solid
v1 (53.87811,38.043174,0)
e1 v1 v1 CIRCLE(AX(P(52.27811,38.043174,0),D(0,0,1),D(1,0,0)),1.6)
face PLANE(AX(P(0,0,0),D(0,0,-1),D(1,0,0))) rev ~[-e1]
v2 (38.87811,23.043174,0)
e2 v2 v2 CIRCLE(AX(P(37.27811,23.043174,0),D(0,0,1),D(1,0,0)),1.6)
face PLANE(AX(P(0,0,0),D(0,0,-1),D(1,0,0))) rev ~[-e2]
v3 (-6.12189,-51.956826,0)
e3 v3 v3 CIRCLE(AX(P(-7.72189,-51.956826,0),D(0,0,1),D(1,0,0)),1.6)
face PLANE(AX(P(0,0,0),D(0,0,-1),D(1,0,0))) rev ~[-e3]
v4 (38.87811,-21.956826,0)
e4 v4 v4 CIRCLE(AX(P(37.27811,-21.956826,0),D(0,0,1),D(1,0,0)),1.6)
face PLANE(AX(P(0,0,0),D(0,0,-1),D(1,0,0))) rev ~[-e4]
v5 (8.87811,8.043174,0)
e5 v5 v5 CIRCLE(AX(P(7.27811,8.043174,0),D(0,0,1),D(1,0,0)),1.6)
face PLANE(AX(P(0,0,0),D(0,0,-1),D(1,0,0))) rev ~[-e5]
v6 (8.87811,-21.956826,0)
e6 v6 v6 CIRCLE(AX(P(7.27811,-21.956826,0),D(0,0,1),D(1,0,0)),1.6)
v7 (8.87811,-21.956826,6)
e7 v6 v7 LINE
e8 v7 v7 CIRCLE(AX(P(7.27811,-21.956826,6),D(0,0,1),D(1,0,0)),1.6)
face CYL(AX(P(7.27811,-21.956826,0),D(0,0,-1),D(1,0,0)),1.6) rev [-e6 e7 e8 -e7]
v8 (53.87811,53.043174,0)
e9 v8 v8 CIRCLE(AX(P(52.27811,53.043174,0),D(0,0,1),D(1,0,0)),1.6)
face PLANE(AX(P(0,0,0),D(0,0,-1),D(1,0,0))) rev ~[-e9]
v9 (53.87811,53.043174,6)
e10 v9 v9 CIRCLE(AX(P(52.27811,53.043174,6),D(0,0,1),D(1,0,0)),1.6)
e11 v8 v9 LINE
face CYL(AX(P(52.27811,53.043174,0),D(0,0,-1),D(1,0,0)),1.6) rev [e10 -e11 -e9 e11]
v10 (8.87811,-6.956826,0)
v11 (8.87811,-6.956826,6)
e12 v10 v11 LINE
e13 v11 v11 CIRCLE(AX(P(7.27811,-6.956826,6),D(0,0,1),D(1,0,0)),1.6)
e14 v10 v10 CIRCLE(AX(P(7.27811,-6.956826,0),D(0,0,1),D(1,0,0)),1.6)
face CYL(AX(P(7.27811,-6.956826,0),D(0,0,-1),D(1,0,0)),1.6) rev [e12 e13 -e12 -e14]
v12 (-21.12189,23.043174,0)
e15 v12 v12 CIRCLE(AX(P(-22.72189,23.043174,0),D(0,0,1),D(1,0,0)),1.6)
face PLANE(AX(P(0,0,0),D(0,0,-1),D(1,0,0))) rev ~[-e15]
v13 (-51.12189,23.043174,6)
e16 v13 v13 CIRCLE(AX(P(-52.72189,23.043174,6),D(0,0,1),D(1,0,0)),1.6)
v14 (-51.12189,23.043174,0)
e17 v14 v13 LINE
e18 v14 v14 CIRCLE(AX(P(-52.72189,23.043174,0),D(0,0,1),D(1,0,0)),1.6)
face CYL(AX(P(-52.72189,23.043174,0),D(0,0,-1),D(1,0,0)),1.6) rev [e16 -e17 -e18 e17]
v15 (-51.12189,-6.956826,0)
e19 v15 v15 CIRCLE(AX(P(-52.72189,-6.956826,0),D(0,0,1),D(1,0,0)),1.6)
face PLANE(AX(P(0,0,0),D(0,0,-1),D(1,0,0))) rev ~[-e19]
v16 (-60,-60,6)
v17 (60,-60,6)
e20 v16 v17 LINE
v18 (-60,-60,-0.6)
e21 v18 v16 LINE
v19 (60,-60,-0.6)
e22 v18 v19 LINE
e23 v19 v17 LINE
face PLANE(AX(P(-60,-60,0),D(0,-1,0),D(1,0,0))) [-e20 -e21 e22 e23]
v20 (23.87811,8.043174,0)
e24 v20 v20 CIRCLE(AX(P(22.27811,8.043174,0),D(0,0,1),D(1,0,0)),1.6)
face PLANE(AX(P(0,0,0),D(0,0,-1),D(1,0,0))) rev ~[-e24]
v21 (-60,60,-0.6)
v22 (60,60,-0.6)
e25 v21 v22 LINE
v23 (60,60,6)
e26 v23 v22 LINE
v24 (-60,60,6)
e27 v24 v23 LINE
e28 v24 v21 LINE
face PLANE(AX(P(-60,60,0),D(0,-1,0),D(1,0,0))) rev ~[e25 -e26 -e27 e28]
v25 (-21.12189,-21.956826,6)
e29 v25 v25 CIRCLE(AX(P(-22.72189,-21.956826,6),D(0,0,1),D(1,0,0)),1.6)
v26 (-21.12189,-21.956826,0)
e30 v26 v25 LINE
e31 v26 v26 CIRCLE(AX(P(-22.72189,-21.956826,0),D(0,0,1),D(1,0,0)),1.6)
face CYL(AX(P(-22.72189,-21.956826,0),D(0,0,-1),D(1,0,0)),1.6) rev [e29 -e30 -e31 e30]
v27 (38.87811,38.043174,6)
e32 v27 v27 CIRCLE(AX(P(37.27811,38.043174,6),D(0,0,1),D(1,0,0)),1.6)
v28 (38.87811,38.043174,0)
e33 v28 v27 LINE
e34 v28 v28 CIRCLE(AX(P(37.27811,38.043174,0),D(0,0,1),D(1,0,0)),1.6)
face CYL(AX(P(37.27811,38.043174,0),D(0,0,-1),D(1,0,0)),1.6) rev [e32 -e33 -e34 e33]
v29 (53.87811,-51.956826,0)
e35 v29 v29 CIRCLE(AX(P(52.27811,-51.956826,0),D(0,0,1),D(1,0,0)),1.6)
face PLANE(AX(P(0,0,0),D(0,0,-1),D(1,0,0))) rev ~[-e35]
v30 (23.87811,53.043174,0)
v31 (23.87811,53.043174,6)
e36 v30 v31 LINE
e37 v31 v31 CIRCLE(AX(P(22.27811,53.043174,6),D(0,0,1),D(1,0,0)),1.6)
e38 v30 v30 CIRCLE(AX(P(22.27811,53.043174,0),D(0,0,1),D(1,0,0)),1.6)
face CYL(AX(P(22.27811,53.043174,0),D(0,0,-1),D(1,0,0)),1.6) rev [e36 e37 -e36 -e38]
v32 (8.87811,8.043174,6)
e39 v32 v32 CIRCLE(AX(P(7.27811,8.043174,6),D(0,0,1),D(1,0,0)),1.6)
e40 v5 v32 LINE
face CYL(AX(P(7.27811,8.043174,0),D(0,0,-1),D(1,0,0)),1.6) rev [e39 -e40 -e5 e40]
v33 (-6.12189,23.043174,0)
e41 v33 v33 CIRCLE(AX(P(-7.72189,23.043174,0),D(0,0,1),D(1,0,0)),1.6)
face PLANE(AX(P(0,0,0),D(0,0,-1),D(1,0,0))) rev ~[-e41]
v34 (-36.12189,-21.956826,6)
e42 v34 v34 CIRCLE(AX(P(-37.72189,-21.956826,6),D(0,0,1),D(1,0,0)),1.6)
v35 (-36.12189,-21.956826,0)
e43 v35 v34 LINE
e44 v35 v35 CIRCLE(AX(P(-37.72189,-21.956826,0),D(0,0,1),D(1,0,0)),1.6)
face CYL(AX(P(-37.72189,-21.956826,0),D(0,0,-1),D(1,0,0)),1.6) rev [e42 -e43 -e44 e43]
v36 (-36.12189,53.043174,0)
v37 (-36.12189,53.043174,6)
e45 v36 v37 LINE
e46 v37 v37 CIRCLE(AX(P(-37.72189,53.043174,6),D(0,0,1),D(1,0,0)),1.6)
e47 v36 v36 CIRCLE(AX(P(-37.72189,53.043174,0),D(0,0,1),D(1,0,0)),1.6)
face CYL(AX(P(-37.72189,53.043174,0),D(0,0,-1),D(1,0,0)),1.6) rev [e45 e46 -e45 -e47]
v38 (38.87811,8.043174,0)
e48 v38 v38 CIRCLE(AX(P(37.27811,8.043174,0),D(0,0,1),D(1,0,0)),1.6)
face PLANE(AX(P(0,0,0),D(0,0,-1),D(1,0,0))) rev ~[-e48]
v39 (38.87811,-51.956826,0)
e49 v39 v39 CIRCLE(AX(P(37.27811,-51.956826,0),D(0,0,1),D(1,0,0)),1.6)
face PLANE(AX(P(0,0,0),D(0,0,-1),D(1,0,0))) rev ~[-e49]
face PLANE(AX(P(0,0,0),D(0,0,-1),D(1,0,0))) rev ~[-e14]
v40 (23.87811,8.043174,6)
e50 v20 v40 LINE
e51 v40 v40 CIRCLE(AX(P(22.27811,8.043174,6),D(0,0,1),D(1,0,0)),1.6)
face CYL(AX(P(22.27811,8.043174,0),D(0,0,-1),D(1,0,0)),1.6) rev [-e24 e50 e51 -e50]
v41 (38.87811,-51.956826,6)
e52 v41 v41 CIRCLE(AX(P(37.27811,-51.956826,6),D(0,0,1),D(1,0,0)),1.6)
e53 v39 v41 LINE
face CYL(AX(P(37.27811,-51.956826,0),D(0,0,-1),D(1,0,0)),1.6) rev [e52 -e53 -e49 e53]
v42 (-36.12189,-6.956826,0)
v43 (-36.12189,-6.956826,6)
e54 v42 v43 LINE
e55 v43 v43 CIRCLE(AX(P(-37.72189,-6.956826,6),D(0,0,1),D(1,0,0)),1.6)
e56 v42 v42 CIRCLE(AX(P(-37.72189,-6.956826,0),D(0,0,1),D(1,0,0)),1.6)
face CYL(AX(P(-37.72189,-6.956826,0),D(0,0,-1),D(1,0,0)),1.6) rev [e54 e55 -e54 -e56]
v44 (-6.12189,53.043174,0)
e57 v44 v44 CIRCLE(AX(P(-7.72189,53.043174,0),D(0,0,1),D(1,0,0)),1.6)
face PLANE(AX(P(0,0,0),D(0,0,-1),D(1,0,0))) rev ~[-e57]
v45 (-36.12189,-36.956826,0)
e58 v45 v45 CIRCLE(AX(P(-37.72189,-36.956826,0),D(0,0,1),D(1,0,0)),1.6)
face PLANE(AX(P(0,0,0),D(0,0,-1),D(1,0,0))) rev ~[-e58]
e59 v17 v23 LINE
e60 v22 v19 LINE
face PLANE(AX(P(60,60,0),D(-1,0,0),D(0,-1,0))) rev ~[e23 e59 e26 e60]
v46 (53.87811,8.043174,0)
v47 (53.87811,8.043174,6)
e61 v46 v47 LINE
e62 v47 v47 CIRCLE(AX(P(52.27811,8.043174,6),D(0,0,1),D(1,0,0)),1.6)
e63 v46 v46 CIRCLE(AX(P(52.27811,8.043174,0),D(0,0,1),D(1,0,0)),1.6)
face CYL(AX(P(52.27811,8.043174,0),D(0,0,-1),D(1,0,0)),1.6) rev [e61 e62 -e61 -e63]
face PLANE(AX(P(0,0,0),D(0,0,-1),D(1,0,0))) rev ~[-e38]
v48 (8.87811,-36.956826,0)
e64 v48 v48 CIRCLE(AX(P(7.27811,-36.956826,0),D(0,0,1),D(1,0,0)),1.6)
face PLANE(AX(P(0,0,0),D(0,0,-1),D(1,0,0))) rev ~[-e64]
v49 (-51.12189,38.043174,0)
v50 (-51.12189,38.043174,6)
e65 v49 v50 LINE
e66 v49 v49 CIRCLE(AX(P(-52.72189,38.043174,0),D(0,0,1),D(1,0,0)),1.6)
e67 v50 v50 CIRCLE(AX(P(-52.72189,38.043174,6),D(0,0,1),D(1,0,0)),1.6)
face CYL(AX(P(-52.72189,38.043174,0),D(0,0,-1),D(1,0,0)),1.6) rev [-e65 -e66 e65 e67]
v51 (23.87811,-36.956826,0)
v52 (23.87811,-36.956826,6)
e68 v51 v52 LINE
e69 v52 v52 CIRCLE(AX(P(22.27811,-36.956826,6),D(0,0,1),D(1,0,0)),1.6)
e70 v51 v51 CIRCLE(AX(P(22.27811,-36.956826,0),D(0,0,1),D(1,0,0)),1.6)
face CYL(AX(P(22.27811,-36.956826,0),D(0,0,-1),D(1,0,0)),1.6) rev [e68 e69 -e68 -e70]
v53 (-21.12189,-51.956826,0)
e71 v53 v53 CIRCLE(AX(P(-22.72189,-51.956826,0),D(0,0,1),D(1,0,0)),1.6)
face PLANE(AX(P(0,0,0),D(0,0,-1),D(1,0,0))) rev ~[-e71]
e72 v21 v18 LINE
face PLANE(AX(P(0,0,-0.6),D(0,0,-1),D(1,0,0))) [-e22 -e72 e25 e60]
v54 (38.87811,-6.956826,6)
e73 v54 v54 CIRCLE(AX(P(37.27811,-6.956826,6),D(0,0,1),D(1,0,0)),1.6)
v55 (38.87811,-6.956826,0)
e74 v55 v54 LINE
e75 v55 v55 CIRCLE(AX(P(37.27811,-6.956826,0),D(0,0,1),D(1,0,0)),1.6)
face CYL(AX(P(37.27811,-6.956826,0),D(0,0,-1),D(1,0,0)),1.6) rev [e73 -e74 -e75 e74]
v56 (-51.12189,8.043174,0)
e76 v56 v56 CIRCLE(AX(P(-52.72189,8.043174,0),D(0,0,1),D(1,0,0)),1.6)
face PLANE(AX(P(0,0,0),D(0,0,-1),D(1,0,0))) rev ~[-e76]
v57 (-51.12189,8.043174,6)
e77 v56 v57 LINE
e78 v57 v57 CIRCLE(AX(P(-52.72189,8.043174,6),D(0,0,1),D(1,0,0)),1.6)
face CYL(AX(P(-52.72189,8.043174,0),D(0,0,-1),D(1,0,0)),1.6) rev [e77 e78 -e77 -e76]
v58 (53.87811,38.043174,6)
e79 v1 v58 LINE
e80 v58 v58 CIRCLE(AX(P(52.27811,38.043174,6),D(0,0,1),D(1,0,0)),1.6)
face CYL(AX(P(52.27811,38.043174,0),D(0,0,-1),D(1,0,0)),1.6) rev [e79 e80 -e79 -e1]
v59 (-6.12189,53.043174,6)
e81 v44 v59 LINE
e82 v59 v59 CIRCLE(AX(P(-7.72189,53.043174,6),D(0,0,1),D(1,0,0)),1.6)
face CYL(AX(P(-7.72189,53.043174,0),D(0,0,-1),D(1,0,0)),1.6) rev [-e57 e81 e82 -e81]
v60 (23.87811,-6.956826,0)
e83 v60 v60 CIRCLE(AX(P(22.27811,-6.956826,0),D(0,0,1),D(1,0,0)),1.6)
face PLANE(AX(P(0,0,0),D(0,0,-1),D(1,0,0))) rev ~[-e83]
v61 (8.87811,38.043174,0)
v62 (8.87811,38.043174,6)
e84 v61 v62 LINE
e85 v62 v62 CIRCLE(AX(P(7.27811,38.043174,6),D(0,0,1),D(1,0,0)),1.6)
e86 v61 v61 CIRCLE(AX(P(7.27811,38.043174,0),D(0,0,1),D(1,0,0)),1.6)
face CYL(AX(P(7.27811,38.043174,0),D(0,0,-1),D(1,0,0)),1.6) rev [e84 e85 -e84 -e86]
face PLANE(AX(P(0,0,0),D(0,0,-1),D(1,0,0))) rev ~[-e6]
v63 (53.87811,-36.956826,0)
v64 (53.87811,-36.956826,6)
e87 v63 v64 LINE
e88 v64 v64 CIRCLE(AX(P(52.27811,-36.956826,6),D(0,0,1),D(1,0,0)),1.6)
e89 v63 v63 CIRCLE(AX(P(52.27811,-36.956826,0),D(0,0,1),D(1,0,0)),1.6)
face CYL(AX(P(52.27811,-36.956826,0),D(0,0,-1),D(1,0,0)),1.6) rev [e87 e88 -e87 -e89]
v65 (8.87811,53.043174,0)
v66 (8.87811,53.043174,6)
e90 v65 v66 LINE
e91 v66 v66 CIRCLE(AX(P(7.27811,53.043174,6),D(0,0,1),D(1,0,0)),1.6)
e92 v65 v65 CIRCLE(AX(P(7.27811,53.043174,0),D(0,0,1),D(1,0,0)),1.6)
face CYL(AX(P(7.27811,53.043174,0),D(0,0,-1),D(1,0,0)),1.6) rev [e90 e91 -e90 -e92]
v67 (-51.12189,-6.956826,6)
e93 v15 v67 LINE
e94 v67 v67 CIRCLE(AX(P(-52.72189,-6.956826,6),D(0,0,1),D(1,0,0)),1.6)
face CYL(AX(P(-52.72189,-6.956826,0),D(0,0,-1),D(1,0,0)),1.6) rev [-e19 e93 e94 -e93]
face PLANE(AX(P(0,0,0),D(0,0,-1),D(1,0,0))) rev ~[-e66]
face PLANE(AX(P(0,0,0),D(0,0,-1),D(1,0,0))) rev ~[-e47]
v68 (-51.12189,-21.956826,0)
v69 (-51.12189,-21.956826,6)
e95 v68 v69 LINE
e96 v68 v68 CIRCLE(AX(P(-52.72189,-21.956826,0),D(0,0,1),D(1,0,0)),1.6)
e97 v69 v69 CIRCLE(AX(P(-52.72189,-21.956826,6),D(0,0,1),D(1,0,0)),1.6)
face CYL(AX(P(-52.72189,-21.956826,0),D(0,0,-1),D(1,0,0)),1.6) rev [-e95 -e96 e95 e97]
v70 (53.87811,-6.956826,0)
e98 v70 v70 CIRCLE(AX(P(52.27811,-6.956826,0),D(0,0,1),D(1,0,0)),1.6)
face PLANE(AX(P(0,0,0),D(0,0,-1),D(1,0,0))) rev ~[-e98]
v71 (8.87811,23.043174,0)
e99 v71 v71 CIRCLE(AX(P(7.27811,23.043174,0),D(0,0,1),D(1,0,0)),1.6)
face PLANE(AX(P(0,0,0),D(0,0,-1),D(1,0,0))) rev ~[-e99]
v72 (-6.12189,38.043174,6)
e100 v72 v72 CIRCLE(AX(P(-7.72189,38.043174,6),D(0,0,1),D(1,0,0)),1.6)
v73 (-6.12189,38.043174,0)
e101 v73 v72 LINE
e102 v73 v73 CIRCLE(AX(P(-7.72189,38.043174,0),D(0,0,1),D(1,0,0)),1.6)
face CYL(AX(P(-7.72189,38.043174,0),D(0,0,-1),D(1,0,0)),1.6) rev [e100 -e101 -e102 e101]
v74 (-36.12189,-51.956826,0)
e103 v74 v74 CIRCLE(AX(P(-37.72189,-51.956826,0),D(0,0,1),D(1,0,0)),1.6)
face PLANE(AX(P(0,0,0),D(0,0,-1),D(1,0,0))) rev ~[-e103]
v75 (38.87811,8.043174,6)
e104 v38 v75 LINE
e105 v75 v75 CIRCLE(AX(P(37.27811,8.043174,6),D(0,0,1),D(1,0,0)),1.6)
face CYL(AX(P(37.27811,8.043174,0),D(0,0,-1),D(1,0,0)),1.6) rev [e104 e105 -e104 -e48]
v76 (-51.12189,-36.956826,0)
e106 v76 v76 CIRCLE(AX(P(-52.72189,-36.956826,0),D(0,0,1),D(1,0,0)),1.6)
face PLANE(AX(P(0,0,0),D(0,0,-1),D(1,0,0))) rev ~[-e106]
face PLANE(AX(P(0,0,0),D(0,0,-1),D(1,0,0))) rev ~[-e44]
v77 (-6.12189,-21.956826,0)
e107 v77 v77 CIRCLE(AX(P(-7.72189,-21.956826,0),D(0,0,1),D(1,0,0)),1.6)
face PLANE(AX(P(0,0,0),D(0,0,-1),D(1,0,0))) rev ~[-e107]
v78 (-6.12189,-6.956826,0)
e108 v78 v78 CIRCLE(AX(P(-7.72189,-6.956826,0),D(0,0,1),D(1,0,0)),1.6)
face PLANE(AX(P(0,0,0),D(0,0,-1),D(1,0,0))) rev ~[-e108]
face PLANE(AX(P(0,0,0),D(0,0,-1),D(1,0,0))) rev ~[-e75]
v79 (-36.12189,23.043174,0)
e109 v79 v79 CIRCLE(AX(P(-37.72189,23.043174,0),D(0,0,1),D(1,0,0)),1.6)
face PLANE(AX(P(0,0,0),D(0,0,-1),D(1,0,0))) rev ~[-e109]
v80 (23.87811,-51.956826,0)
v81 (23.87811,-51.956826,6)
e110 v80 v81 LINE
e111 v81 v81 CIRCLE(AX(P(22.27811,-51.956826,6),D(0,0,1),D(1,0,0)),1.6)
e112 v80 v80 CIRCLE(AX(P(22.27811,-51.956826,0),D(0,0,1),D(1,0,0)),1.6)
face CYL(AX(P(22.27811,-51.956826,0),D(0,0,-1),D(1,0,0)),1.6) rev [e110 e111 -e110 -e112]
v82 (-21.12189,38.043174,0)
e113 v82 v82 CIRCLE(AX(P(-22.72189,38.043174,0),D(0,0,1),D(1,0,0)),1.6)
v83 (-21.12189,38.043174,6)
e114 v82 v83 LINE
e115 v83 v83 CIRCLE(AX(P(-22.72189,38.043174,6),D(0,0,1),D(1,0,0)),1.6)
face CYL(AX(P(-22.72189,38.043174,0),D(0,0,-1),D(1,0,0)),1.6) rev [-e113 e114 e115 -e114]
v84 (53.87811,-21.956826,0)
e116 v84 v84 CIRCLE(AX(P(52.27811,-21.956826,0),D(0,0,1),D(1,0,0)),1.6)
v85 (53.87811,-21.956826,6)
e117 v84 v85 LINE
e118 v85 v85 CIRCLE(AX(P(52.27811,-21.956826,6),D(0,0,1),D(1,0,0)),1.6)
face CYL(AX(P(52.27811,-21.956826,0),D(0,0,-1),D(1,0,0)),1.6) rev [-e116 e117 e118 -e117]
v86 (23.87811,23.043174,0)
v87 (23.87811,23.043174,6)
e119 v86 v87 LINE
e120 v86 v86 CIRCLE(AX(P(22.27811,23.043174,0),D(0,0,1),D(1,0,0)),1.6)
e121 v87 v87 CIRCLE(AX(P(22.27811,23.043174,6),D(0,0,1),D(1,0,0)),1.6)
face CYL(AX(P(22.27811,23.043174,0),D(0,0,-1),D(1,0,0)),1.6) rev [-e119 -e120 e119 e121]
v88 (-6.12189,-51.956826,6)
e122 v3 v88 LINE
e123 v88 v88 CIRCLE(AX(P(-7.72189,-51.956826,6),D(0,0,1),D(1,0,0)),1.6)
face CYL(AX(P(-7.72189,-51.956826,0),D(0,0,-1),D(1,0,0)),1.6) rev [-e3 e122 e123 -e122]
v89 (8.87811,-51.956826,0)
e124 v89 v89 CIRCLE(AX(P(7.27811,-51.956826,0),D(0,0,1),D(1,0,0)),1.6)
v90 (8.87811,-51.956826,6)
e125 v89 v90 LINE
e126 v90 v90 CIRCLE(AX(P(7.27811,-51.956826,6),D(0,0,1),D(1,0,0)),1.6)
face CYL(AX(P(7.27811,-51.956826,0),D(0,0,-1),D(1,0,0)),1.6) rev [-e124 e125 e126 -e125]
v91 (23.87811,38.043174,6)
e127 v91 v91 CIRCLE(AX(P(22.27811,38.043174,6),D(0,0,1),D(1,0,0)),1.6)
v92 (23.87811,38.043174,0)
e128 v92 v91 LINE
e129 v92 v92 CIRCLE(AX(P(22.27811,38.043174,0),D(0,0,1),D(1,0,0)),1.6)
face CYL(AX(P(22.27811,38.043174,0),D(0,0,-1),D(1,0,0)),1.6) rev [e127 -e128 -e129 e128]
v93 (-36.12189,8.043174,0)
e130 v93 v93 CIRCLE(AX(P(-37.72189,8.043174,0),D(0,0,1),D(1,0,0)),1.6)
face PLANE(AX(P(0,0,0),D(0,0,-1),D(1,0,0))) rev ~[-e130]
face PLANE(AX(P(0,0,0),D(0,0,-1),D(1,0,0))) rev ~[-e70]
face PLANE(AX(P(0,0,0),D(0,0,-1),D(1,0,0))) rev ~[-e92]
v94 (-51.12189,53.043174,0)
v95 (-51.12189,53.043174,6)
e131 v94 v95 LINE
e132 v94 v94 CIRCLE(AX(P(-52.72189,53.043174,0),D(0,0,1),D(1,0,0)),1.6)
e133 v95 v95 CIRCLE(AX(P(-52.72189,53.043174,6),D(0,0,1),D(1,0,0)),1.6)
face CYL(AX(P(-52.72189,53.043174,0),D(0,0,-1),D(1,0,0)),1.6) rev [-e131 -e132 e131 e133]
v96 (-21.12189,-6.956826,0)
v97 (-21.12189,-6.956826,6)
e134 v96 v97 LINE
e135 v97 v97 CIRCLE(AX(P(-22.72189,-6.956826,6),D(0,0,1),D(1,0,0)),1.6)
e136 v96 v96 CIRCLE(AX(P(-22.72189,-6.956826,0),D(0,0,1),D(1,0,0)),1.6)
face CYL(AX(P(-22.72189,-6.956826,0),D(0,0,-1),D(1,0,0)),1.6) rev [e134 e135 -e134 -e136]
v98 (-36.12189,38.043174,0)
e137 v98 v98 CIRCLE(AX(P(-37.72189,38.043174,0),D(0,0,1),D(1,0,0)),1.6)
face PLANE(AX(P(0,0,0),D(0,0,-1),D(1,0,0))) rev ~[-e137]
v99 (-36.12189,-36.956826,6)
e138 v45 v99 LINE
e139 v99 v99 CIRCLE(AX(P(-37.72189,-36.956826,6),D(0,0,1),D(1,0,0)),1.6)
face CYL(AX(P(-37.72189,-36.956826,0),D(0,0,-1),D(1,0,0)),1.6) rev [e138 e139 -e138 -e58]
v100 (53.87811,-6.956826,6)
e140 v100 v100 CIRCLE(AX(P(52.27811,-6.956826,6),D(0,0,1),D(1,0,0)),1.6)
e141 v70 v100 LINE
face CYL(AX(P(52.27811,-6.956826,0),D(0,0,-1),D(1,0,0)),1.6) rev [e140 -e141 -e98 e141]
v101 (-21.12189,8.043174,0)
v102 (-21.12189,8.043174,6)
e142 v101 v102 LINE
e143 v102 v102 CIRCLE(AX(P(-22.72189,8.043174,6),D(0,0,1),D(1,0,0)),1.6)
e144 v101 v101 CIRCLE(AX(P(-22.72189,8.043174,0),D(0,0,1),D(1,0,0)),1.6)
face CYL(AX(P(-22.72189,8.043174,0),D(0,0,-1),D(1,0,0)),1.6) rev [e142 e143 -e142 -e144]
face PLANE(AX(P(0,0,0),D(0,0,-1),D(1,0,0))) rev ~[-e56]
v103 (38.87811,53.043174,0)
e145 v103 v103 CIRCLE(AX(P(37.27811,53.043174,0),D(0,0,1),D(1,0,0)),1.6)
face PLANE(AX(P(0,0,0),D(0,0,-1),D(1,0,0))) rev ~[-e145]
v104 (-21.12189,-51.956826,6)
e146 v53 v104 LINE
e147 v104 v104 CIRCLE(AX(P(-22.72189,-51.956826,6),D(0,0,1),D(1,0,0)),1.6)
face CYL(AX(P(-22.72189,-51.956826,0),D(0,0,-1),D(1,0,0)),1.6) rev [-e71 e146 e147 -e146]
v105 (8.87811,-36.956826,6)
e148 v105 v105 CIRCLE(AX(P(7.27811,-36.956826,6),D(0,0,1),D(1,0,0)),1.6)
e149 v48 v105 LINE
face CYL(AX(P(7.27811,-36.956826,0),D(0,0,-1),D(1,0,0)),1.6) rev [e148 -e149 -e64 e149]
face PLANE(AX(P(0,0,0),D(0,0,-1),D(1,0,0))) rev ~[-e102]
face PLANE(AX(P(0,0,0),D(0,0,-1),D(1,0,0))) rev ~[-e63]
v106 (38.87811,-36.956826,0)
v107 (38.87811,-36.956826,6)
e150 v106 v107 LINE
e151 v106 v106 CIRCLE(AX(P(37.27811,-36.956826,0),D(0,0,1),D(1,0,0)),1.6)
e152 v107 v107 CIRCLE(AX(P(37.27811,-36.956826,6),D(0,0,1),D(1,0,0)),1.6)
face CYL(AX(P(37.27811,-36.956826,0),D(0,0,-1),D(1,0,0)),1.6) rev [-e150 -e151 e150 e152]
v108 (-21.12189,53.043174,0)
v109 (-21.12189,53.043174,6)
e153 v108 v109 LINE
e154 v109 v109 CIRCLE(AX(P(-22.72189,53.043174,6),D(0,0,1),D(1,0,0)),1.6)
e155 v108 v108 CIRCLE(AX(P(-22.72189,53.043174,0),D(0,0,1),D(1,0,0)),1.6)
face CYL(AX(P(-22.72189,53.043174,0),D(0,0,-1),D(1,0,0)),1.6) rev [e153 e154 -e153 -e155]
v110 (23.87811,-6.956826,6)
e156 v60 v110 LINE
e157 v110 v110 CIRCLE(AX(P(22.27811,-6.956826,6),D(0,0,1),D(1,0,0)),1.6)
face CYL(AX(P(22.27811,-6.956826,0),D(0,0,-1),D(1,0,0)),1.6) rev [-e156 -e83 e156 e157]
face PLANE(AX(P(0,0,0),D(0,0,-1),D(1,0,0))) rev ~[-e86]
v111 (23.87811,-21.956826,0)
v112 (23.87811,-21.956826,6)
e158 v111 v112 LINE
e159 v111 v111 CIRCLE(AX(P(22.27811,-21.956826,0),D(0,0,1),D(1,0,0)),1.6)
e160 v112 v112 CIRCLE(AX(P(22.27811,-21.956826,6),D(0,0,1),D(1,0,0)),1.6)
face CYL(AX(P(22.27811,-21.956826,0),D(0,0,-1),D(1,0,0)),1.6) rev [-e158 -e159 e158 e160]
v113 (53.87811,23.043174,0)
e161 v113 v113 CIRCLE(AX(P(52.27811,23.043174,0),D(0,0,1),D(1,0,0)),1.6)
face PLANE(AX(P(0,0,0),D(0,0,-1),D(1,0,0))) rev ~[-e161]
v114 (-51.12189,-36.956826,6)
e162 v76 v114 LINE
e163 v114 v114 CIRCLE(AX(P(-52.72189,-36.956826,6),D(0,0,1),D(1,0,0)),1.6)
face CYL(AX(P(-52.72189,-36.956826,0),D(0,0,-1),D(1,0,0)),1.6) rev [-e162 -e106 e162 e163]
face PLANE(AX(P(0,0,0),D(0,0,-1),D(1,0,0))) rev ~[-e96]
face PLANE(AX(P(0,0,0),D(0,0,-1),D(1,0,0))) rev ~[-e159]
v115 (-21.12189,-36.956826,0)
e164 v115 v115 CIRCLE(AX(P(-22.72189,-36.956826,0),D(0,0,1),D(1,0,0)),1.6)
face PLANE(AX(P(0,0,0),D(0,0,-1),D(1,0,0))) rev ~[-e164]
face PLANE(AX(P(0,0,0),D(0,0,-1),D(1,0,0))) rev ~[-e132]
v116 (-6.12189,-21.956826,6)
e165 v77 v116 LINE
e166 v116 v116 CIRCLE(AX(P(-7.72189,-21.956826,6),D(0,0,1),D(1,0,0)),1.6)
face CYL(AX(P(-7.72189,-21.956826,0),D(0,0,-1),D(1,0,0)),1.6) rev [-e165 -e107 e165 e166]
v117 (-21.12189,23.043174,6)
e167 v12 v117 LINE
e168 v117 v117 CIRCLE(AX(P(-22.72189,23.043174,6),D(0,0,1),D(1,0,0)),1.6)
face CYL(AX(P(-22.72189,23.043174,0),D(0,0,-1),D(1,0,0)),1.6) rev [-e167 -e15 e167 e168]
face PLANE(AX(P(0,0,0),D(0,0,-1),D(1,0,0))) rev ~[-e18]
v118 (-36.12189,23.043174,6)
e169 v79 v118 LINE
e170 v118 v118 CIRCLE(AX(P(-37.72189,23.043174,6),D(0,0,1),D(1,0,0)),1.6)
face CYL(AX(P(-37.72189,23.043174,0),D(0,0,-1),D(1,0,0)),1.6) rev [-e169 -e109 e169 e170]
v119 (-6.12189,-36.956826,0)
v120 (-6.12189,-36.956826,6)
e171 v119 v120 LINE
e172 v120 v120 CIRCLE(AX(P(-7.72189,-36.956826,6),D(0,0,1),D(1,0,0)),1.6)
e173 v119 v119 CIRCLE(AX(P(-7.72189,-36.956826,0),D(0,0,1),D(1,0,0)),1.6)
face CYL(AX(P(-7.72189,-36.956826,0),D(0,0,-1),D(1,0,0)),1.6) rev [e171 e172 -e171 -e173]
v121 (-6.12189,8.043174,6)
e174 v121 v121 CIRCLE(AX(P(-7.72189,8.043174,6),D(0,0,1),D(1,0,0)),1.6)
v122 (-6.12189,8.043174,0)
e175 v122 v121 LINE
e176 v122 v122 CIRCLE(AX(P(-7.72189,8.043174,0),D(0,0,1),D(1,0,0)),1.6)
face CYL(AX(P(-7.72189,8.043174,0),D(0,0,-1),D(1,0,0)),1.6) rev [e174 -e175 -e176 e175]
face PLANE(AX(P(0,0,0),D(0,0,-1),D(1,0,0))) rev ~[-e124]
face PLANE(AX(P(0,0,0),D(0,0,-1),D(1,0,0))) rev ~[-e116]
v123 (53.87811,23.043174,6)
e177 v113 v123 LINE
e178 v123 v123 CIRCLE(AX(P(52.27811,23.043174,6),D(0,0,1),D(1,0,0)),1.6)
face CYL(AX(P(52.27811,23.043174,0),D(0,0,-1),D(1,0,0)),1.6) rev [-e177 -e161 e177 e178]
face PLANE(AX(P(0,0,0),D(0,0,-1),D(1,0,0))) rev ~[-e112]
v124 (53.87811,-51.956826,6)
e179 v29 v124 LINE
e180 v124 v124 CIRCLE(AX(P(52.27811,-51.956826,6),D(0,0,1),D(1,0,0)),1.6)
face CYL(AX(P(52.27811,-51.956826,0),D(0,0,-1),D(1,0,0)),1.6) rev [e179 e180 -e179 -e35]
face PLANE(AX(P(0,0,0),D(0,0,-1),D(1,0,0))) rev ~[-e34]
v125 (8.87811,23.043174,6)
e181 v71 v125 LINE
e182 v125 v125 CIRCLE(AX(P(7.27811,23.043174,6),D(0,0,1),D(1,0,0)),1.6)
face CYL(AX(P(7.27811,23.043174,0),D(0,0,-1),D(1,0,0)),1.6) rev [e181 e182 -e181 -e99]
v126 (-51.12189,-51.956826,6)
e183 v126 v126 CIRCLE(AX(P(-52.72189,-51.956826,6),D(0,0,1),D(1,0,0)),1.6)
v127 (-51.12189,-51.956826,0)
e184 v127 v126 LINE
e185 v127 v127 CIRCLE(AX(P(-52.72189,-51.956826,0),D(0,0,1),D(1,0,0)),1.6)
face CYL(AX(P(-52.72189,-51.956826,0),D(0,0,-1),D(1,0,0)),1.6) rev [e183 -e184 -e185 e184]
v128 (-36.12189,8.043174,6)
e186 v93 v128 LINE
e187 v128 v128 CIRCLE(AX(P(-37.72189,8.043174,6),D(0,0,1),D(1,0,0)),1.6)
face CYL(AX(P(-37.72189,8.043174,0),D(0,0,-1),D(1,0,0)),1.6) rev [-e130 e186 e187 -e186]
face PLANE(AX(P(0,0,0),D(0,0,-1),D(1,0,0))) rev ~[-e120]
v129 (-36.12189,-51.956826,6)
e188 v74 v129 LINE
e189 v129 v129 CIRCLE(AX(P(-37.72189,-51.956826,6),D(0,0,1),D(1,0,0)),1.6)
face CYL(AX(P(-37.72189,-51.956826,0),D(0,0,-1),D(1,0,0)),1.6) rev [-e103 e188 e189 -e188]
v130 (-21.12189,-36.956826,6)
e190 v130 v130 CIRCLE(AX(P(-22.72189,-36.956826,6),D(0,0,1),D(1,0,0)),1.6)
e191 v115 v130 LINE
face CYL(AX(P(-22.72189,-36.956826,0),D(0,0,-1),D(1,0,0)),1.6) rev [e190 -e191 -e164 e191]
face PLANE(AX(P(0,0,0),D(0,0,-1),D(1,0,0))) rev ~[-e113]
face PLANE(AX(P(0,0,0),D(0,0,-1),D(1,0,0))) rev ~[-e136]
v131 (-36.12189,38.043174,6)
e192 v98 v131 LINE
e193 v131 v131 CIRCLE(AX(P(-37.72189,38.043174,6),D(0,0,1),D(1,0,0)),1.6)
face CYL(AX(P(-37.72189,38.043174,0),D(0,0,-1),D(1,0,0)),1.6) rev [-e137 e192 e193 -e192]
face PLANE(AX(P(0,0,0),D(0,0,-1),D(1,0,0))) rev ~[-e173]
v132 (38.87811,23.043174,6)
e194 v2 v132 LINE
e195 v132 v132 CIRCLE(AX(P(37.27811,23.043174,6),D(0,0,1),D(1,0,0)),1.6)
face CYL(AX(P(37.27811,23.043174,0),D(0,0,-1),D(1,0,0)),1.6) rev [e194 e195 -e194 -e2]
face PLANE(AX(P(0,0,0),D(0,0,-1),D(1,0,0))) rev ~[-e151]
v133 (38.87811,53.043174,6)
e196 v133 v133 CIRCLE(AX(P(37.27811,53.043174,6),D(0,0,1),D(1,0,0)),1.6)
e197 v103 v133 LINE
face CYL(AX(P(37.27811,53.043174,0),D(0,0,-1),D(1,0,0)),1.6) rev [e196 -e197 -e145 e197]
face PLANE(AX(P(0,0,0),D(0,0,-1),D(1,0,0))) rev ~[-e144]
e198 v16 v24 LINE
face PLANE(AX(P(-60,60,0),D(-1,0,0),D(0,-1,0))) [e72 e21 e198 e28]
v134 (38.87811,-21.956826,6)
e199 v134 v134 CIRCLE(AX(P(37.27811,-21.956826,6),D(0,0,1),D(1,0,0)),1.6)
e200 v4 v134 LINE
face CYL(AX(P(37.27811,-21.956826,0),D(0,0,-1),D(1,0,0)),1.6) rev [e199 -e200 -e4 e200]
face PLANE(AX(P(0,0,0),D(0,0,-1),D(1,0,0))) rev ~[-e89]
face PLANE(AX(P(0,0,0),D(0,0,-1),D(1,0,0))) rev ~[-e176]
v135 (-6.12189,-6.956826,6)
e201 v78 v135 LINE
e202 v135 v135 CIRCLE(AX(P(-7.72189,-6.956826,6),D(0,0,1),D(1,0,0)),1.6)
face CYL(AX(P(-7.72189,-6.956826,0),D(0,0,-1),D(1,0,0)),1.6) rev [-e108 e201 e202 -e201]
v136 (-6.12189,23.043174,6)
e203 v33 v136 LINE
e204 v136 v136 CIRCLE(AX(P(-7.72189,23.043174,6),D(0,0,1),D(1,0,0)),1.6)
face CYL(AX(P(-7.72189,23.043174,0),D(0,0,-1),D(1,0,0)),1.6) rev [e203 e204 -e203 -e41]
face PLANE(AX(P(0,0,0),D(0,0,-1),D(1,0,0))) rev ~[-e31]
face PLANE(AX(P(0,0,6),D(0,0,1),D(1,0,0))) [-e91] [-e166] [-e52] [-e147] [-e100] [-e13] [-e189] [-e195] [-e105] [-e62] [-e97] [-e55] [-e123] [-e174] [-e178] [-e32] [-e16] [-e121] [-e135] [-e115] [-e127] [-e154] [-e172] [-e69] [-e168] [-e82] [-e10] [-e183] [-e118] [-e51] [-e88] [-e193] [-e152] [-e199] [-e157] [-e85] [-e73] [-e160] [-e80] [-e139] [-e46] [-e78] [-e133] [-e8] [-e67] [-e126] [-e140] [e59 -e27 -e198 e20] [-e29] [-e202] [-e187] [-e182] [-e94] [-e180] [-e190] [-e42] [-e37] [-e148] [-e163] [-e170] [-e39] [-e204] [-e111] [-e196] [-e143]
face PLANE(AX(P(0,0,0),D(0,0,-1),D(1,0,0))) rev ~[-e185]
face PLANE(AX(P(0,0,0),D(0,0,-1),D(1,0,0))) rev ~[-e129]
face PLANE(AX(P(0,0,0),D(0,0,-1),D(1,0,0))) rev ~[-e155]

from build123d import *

# Parameters (mm, degrees)
F0_W     = 120
F0_H     = 120
F0_R     = 1.6
F1_DEPTH = 6
F2_W     = 120
F2_H     = 120
F3_DEPTH = 0.6


with BuildPart() as f1:
    # F0 (on Top) → F1 (new body)
    with BuildSketch(Plane.XY):
        Rectangle(F0_W, F0_H)
        with Locations((-52.72189, -51.956826)):
            Circle(F0_R, mode=Mode.SUBTRACT)
        with Locations((-37.72189, -51.956826)):
            Circle(F0_R, mode=Mode.SUBTRACT)
        with Locations((-52.72189, -36.956826)):
            Circle(F0_R, mode=Mode.SUBTRACT)
        with Locations((-37.72189, -36.956826)):
            Circle(F0_R, mode=Mode.SUBTRACT)
        with Locations((-22.72189, -51.956826)):
            Circle(F0_R, mode=Mode.SUBTRACT)
        with Locations((-7.72189, -51.956826)):
            Circle(F0_R, mode=Mode.SUBTRACT)
        with Locations((-22.72189, -36.956826)):
            Circle(F0_R, mode=Mode.SUBTRACT)
        with Locations((-7.72189, -36.956826)):
            Circle(F0_R, mode=Mode.SUBTRACT)
        with Locations((-52.72189, -21.956826)):
            Circle(F0_R, mode=Mode.SUBTRACT)
        with Locations((-37.72189, -21.956826)):
            Circle(F0_R, mode=Mode.SUBTRACT)
        with Locations((-52.72189, -6.956826)):
            Circle(F0_R, mode=Mode.SUBTRACT)
        with Locations((-37.72189, -6.956826)):
            Circle(F0_R, mode=Mode.SUBTRACT)
        with Locations((-22.72189, -21.956826)):
            Circle(F0_R, mode=Mode.SUBTRACT)
        with Locations((-7.72189, -21.956826)):
            Circle(F0_R, mode=Mode.SUBTRACT)
        with Locations((-22.72189, -6.956826)):
            Circle(F0_R, mode=Mode.SUBTRACT)
        with Locations((-7.72189, -6.956826)):
            Circle(F0_R, mode=Mode.SUBTRACT)
        with Locations((7.27811, -51.956826)):
            Circle(F0_R, mode=Mode.SUBTRACT)
        with Locations((22.27811, -51.956826)):
            Circle(F0_R, mode=Mode.SUBTRACT)
        with Locations((7.27811, -36.956826)):
            Circle(F0_R, mode=Mode.SUBTRACT)
        with Locations((22.27811, -36.956826)):
            Circle(F0_R, mode=Mode.SUBTRACT)
        with Locations((37.27811, -51.956826)):
            Circle(F0_R, mode=Mode.SUBTRACT)
        with Locations((52.27811, -51.956826)):
            Circle(F0_R, mode=Mode.SUBTRACT)
        with Locations((37.27811, -36.956826)):
            Circle(F0_R, mode=Mode.SUBTRACT)
        with Locations((52.27811, -36.956826)):
            Circle(F0_R, mode=Mode.SUBTRACT)
        with Locations((7.27811, -21.956826)):
            Circle(F0_R, mode=Mode.SUBTRACT)
        with Locations((22.27811, -21.956826)):
            Circle(F0_R, mode=Mode.SUBTRACT)
        with Locations((7.27811, -6.956826)):
            Circle(F0_R, mode=Mode.SUBTRACT)
        with Locations((22.27811, -6.956826)):
            Circle(F0_R, mode=Mode.SUBTRACT)
        with Locations((37.27811, -21.956826)):
            Circle(F0_R, mode=Mode.SUBTRACT)
        with Locations((52.27811, -21.956826)):
            Circle(F0_R, mode=Mode.SUBTRACT)
        with Locations((37.27811, -6.956826)):
            Circle(F0_R, mode=Mode.SUBTRACT)
        with Locations((52.27811, -6.956826)):
            Circle(F0_R, mode=Mode.SUBTRACT)
        with Locations((-52.72189, 8.043174)):
            Circle(F0_R, mode=Mode.SUBTRACT)
        with Locations((-37.72189, 8.043174)):
            Circle(F0_R, mode=Mode.SUBTRACT)
        with Locations((-52.72189, 23.043174)):
            Circle(F0_R, mode=Mode.SUBTRACT)
        with Locations((-37.72189, 23.043174)):
            Circle(F0_R, mode=Mode.SUBTRACT)
        with Locations((-22.72189, 8.043174)):
            Circle(F0_R, mode=Mode.SUBTRACT)
        with Locations((-7.72189, 8.043174)):
            Circle(F0_R, mode=Mode.SUBTRACT)
        with Locations((-22.72189, 23.043174)):
            Circle(F0_R, mode=Mode.SUBTRACT)
        with Locations((-7.72189, 23.043174)):
            Circle(F0_R, mode=Mode.SUBTRACT)
        with Locations((-52.72189, 38.043174)):
            Circle(F0_R, mode=Mode.SUBTRACT)
        with Locations((-37.72189, 38.043174)):
            Circle(F0_R, mode=Mode.SUBTRACT)
        with Locations((-52.72189, 53.043174)):
            Circle(F0_R, mode=Mode.SUBTRACT)
        with Locations((-37.72189, 53.043174)):
            Circle(F0_R, mode=Mode.SUBTRACT)
        with Locations((-22.72189, 38.043174)):
            Circle(F0_R, mode=Mode.SUBTRACT)
        with Locations((-7.72189, 38.043174)):
            Circle(F0_R, mode=Mode.SUBTRACT)
        with Locations((-22.72189, 53.043174)):
            Circle(F0_R, mode=Mode.SUBTRACT)
        with Locations((-7.72189, 53.043174)):
            Circle(F0_R, mode=Mode.SUBTRACT)
        with Locations((7.27811, 8.043174)):
            Circle(F0_R, mode=Mode.SUBTRACT)
        with Locations((22.27811, 8.043174)):
            Circle(F0_R, mode=Mode.SUBTRACT)
        with Locations((7.27811, 23.043174)):
            Circle(F0_R, mode=Mode.SUBTRACT)
        with Locations((22.27811, 23.043174)):
            Circle(F0_R, mode=Mode.SUBTRACT)
        with Locations((37.27811, 8.043174)):
            Circle(F0_R, mode=Mode.SUBTRACT)
        with Locations((52.27811, 8.043174)):
            Circle(F0_R, mode=Mode.SUBTRACT)
        with Locations((37.27811, 23.043174)):
            Circle(F0_R, mode=Mode.SUBTRACT)
        with Locations((52.27811, 23.043174)):
            Circle(F0_R, mode=Mode.SUBTRACT)
        with Locations((7.27811, 38.043174)):
            Circle(F0_R, mode=Mode.SUBTRACT)
        with Locations((22.27811, 38.043174)):
            Circle(F0_R, mode=Mode.SUBTRACT)
        with Locations((7.27811, 53.043174)):
            Circle(F0_R, mode=Mode.SUBTRACT)
        with Locations((22.27811, 53.043174)):
            Circle(F0_R, mode=Mode.SUBTRACT)
        with Locations((37.27811, 38.043174)):
            Circle(F0_R, mode=Mode.SUBTRACT)
        with Locations((52.27811, 38.043174)):
            Circle(F0_R, mode=Mode.SUBTRACT)
        with Locations((37.27811, 53.043174)):
            Circle(F0_R, mode=Mode.SUBTRACT)
        with Locations((52.27811, 53.043174)):
            Circle(F0_R, mode=Mode.SUBTRACT)
    extrude(amount=F1_DEPTH)

    # F2 (on face) → F3 (join)
    with BuildSketch(Plane(origin=(0, 0, 0), x_dir=(1, 0, 0), z_dir=(0, 0, -1))):
        Rectangle(F2_W, F2_H)
    extrude(amount=F3_DEPTH)


solid = f1.part
